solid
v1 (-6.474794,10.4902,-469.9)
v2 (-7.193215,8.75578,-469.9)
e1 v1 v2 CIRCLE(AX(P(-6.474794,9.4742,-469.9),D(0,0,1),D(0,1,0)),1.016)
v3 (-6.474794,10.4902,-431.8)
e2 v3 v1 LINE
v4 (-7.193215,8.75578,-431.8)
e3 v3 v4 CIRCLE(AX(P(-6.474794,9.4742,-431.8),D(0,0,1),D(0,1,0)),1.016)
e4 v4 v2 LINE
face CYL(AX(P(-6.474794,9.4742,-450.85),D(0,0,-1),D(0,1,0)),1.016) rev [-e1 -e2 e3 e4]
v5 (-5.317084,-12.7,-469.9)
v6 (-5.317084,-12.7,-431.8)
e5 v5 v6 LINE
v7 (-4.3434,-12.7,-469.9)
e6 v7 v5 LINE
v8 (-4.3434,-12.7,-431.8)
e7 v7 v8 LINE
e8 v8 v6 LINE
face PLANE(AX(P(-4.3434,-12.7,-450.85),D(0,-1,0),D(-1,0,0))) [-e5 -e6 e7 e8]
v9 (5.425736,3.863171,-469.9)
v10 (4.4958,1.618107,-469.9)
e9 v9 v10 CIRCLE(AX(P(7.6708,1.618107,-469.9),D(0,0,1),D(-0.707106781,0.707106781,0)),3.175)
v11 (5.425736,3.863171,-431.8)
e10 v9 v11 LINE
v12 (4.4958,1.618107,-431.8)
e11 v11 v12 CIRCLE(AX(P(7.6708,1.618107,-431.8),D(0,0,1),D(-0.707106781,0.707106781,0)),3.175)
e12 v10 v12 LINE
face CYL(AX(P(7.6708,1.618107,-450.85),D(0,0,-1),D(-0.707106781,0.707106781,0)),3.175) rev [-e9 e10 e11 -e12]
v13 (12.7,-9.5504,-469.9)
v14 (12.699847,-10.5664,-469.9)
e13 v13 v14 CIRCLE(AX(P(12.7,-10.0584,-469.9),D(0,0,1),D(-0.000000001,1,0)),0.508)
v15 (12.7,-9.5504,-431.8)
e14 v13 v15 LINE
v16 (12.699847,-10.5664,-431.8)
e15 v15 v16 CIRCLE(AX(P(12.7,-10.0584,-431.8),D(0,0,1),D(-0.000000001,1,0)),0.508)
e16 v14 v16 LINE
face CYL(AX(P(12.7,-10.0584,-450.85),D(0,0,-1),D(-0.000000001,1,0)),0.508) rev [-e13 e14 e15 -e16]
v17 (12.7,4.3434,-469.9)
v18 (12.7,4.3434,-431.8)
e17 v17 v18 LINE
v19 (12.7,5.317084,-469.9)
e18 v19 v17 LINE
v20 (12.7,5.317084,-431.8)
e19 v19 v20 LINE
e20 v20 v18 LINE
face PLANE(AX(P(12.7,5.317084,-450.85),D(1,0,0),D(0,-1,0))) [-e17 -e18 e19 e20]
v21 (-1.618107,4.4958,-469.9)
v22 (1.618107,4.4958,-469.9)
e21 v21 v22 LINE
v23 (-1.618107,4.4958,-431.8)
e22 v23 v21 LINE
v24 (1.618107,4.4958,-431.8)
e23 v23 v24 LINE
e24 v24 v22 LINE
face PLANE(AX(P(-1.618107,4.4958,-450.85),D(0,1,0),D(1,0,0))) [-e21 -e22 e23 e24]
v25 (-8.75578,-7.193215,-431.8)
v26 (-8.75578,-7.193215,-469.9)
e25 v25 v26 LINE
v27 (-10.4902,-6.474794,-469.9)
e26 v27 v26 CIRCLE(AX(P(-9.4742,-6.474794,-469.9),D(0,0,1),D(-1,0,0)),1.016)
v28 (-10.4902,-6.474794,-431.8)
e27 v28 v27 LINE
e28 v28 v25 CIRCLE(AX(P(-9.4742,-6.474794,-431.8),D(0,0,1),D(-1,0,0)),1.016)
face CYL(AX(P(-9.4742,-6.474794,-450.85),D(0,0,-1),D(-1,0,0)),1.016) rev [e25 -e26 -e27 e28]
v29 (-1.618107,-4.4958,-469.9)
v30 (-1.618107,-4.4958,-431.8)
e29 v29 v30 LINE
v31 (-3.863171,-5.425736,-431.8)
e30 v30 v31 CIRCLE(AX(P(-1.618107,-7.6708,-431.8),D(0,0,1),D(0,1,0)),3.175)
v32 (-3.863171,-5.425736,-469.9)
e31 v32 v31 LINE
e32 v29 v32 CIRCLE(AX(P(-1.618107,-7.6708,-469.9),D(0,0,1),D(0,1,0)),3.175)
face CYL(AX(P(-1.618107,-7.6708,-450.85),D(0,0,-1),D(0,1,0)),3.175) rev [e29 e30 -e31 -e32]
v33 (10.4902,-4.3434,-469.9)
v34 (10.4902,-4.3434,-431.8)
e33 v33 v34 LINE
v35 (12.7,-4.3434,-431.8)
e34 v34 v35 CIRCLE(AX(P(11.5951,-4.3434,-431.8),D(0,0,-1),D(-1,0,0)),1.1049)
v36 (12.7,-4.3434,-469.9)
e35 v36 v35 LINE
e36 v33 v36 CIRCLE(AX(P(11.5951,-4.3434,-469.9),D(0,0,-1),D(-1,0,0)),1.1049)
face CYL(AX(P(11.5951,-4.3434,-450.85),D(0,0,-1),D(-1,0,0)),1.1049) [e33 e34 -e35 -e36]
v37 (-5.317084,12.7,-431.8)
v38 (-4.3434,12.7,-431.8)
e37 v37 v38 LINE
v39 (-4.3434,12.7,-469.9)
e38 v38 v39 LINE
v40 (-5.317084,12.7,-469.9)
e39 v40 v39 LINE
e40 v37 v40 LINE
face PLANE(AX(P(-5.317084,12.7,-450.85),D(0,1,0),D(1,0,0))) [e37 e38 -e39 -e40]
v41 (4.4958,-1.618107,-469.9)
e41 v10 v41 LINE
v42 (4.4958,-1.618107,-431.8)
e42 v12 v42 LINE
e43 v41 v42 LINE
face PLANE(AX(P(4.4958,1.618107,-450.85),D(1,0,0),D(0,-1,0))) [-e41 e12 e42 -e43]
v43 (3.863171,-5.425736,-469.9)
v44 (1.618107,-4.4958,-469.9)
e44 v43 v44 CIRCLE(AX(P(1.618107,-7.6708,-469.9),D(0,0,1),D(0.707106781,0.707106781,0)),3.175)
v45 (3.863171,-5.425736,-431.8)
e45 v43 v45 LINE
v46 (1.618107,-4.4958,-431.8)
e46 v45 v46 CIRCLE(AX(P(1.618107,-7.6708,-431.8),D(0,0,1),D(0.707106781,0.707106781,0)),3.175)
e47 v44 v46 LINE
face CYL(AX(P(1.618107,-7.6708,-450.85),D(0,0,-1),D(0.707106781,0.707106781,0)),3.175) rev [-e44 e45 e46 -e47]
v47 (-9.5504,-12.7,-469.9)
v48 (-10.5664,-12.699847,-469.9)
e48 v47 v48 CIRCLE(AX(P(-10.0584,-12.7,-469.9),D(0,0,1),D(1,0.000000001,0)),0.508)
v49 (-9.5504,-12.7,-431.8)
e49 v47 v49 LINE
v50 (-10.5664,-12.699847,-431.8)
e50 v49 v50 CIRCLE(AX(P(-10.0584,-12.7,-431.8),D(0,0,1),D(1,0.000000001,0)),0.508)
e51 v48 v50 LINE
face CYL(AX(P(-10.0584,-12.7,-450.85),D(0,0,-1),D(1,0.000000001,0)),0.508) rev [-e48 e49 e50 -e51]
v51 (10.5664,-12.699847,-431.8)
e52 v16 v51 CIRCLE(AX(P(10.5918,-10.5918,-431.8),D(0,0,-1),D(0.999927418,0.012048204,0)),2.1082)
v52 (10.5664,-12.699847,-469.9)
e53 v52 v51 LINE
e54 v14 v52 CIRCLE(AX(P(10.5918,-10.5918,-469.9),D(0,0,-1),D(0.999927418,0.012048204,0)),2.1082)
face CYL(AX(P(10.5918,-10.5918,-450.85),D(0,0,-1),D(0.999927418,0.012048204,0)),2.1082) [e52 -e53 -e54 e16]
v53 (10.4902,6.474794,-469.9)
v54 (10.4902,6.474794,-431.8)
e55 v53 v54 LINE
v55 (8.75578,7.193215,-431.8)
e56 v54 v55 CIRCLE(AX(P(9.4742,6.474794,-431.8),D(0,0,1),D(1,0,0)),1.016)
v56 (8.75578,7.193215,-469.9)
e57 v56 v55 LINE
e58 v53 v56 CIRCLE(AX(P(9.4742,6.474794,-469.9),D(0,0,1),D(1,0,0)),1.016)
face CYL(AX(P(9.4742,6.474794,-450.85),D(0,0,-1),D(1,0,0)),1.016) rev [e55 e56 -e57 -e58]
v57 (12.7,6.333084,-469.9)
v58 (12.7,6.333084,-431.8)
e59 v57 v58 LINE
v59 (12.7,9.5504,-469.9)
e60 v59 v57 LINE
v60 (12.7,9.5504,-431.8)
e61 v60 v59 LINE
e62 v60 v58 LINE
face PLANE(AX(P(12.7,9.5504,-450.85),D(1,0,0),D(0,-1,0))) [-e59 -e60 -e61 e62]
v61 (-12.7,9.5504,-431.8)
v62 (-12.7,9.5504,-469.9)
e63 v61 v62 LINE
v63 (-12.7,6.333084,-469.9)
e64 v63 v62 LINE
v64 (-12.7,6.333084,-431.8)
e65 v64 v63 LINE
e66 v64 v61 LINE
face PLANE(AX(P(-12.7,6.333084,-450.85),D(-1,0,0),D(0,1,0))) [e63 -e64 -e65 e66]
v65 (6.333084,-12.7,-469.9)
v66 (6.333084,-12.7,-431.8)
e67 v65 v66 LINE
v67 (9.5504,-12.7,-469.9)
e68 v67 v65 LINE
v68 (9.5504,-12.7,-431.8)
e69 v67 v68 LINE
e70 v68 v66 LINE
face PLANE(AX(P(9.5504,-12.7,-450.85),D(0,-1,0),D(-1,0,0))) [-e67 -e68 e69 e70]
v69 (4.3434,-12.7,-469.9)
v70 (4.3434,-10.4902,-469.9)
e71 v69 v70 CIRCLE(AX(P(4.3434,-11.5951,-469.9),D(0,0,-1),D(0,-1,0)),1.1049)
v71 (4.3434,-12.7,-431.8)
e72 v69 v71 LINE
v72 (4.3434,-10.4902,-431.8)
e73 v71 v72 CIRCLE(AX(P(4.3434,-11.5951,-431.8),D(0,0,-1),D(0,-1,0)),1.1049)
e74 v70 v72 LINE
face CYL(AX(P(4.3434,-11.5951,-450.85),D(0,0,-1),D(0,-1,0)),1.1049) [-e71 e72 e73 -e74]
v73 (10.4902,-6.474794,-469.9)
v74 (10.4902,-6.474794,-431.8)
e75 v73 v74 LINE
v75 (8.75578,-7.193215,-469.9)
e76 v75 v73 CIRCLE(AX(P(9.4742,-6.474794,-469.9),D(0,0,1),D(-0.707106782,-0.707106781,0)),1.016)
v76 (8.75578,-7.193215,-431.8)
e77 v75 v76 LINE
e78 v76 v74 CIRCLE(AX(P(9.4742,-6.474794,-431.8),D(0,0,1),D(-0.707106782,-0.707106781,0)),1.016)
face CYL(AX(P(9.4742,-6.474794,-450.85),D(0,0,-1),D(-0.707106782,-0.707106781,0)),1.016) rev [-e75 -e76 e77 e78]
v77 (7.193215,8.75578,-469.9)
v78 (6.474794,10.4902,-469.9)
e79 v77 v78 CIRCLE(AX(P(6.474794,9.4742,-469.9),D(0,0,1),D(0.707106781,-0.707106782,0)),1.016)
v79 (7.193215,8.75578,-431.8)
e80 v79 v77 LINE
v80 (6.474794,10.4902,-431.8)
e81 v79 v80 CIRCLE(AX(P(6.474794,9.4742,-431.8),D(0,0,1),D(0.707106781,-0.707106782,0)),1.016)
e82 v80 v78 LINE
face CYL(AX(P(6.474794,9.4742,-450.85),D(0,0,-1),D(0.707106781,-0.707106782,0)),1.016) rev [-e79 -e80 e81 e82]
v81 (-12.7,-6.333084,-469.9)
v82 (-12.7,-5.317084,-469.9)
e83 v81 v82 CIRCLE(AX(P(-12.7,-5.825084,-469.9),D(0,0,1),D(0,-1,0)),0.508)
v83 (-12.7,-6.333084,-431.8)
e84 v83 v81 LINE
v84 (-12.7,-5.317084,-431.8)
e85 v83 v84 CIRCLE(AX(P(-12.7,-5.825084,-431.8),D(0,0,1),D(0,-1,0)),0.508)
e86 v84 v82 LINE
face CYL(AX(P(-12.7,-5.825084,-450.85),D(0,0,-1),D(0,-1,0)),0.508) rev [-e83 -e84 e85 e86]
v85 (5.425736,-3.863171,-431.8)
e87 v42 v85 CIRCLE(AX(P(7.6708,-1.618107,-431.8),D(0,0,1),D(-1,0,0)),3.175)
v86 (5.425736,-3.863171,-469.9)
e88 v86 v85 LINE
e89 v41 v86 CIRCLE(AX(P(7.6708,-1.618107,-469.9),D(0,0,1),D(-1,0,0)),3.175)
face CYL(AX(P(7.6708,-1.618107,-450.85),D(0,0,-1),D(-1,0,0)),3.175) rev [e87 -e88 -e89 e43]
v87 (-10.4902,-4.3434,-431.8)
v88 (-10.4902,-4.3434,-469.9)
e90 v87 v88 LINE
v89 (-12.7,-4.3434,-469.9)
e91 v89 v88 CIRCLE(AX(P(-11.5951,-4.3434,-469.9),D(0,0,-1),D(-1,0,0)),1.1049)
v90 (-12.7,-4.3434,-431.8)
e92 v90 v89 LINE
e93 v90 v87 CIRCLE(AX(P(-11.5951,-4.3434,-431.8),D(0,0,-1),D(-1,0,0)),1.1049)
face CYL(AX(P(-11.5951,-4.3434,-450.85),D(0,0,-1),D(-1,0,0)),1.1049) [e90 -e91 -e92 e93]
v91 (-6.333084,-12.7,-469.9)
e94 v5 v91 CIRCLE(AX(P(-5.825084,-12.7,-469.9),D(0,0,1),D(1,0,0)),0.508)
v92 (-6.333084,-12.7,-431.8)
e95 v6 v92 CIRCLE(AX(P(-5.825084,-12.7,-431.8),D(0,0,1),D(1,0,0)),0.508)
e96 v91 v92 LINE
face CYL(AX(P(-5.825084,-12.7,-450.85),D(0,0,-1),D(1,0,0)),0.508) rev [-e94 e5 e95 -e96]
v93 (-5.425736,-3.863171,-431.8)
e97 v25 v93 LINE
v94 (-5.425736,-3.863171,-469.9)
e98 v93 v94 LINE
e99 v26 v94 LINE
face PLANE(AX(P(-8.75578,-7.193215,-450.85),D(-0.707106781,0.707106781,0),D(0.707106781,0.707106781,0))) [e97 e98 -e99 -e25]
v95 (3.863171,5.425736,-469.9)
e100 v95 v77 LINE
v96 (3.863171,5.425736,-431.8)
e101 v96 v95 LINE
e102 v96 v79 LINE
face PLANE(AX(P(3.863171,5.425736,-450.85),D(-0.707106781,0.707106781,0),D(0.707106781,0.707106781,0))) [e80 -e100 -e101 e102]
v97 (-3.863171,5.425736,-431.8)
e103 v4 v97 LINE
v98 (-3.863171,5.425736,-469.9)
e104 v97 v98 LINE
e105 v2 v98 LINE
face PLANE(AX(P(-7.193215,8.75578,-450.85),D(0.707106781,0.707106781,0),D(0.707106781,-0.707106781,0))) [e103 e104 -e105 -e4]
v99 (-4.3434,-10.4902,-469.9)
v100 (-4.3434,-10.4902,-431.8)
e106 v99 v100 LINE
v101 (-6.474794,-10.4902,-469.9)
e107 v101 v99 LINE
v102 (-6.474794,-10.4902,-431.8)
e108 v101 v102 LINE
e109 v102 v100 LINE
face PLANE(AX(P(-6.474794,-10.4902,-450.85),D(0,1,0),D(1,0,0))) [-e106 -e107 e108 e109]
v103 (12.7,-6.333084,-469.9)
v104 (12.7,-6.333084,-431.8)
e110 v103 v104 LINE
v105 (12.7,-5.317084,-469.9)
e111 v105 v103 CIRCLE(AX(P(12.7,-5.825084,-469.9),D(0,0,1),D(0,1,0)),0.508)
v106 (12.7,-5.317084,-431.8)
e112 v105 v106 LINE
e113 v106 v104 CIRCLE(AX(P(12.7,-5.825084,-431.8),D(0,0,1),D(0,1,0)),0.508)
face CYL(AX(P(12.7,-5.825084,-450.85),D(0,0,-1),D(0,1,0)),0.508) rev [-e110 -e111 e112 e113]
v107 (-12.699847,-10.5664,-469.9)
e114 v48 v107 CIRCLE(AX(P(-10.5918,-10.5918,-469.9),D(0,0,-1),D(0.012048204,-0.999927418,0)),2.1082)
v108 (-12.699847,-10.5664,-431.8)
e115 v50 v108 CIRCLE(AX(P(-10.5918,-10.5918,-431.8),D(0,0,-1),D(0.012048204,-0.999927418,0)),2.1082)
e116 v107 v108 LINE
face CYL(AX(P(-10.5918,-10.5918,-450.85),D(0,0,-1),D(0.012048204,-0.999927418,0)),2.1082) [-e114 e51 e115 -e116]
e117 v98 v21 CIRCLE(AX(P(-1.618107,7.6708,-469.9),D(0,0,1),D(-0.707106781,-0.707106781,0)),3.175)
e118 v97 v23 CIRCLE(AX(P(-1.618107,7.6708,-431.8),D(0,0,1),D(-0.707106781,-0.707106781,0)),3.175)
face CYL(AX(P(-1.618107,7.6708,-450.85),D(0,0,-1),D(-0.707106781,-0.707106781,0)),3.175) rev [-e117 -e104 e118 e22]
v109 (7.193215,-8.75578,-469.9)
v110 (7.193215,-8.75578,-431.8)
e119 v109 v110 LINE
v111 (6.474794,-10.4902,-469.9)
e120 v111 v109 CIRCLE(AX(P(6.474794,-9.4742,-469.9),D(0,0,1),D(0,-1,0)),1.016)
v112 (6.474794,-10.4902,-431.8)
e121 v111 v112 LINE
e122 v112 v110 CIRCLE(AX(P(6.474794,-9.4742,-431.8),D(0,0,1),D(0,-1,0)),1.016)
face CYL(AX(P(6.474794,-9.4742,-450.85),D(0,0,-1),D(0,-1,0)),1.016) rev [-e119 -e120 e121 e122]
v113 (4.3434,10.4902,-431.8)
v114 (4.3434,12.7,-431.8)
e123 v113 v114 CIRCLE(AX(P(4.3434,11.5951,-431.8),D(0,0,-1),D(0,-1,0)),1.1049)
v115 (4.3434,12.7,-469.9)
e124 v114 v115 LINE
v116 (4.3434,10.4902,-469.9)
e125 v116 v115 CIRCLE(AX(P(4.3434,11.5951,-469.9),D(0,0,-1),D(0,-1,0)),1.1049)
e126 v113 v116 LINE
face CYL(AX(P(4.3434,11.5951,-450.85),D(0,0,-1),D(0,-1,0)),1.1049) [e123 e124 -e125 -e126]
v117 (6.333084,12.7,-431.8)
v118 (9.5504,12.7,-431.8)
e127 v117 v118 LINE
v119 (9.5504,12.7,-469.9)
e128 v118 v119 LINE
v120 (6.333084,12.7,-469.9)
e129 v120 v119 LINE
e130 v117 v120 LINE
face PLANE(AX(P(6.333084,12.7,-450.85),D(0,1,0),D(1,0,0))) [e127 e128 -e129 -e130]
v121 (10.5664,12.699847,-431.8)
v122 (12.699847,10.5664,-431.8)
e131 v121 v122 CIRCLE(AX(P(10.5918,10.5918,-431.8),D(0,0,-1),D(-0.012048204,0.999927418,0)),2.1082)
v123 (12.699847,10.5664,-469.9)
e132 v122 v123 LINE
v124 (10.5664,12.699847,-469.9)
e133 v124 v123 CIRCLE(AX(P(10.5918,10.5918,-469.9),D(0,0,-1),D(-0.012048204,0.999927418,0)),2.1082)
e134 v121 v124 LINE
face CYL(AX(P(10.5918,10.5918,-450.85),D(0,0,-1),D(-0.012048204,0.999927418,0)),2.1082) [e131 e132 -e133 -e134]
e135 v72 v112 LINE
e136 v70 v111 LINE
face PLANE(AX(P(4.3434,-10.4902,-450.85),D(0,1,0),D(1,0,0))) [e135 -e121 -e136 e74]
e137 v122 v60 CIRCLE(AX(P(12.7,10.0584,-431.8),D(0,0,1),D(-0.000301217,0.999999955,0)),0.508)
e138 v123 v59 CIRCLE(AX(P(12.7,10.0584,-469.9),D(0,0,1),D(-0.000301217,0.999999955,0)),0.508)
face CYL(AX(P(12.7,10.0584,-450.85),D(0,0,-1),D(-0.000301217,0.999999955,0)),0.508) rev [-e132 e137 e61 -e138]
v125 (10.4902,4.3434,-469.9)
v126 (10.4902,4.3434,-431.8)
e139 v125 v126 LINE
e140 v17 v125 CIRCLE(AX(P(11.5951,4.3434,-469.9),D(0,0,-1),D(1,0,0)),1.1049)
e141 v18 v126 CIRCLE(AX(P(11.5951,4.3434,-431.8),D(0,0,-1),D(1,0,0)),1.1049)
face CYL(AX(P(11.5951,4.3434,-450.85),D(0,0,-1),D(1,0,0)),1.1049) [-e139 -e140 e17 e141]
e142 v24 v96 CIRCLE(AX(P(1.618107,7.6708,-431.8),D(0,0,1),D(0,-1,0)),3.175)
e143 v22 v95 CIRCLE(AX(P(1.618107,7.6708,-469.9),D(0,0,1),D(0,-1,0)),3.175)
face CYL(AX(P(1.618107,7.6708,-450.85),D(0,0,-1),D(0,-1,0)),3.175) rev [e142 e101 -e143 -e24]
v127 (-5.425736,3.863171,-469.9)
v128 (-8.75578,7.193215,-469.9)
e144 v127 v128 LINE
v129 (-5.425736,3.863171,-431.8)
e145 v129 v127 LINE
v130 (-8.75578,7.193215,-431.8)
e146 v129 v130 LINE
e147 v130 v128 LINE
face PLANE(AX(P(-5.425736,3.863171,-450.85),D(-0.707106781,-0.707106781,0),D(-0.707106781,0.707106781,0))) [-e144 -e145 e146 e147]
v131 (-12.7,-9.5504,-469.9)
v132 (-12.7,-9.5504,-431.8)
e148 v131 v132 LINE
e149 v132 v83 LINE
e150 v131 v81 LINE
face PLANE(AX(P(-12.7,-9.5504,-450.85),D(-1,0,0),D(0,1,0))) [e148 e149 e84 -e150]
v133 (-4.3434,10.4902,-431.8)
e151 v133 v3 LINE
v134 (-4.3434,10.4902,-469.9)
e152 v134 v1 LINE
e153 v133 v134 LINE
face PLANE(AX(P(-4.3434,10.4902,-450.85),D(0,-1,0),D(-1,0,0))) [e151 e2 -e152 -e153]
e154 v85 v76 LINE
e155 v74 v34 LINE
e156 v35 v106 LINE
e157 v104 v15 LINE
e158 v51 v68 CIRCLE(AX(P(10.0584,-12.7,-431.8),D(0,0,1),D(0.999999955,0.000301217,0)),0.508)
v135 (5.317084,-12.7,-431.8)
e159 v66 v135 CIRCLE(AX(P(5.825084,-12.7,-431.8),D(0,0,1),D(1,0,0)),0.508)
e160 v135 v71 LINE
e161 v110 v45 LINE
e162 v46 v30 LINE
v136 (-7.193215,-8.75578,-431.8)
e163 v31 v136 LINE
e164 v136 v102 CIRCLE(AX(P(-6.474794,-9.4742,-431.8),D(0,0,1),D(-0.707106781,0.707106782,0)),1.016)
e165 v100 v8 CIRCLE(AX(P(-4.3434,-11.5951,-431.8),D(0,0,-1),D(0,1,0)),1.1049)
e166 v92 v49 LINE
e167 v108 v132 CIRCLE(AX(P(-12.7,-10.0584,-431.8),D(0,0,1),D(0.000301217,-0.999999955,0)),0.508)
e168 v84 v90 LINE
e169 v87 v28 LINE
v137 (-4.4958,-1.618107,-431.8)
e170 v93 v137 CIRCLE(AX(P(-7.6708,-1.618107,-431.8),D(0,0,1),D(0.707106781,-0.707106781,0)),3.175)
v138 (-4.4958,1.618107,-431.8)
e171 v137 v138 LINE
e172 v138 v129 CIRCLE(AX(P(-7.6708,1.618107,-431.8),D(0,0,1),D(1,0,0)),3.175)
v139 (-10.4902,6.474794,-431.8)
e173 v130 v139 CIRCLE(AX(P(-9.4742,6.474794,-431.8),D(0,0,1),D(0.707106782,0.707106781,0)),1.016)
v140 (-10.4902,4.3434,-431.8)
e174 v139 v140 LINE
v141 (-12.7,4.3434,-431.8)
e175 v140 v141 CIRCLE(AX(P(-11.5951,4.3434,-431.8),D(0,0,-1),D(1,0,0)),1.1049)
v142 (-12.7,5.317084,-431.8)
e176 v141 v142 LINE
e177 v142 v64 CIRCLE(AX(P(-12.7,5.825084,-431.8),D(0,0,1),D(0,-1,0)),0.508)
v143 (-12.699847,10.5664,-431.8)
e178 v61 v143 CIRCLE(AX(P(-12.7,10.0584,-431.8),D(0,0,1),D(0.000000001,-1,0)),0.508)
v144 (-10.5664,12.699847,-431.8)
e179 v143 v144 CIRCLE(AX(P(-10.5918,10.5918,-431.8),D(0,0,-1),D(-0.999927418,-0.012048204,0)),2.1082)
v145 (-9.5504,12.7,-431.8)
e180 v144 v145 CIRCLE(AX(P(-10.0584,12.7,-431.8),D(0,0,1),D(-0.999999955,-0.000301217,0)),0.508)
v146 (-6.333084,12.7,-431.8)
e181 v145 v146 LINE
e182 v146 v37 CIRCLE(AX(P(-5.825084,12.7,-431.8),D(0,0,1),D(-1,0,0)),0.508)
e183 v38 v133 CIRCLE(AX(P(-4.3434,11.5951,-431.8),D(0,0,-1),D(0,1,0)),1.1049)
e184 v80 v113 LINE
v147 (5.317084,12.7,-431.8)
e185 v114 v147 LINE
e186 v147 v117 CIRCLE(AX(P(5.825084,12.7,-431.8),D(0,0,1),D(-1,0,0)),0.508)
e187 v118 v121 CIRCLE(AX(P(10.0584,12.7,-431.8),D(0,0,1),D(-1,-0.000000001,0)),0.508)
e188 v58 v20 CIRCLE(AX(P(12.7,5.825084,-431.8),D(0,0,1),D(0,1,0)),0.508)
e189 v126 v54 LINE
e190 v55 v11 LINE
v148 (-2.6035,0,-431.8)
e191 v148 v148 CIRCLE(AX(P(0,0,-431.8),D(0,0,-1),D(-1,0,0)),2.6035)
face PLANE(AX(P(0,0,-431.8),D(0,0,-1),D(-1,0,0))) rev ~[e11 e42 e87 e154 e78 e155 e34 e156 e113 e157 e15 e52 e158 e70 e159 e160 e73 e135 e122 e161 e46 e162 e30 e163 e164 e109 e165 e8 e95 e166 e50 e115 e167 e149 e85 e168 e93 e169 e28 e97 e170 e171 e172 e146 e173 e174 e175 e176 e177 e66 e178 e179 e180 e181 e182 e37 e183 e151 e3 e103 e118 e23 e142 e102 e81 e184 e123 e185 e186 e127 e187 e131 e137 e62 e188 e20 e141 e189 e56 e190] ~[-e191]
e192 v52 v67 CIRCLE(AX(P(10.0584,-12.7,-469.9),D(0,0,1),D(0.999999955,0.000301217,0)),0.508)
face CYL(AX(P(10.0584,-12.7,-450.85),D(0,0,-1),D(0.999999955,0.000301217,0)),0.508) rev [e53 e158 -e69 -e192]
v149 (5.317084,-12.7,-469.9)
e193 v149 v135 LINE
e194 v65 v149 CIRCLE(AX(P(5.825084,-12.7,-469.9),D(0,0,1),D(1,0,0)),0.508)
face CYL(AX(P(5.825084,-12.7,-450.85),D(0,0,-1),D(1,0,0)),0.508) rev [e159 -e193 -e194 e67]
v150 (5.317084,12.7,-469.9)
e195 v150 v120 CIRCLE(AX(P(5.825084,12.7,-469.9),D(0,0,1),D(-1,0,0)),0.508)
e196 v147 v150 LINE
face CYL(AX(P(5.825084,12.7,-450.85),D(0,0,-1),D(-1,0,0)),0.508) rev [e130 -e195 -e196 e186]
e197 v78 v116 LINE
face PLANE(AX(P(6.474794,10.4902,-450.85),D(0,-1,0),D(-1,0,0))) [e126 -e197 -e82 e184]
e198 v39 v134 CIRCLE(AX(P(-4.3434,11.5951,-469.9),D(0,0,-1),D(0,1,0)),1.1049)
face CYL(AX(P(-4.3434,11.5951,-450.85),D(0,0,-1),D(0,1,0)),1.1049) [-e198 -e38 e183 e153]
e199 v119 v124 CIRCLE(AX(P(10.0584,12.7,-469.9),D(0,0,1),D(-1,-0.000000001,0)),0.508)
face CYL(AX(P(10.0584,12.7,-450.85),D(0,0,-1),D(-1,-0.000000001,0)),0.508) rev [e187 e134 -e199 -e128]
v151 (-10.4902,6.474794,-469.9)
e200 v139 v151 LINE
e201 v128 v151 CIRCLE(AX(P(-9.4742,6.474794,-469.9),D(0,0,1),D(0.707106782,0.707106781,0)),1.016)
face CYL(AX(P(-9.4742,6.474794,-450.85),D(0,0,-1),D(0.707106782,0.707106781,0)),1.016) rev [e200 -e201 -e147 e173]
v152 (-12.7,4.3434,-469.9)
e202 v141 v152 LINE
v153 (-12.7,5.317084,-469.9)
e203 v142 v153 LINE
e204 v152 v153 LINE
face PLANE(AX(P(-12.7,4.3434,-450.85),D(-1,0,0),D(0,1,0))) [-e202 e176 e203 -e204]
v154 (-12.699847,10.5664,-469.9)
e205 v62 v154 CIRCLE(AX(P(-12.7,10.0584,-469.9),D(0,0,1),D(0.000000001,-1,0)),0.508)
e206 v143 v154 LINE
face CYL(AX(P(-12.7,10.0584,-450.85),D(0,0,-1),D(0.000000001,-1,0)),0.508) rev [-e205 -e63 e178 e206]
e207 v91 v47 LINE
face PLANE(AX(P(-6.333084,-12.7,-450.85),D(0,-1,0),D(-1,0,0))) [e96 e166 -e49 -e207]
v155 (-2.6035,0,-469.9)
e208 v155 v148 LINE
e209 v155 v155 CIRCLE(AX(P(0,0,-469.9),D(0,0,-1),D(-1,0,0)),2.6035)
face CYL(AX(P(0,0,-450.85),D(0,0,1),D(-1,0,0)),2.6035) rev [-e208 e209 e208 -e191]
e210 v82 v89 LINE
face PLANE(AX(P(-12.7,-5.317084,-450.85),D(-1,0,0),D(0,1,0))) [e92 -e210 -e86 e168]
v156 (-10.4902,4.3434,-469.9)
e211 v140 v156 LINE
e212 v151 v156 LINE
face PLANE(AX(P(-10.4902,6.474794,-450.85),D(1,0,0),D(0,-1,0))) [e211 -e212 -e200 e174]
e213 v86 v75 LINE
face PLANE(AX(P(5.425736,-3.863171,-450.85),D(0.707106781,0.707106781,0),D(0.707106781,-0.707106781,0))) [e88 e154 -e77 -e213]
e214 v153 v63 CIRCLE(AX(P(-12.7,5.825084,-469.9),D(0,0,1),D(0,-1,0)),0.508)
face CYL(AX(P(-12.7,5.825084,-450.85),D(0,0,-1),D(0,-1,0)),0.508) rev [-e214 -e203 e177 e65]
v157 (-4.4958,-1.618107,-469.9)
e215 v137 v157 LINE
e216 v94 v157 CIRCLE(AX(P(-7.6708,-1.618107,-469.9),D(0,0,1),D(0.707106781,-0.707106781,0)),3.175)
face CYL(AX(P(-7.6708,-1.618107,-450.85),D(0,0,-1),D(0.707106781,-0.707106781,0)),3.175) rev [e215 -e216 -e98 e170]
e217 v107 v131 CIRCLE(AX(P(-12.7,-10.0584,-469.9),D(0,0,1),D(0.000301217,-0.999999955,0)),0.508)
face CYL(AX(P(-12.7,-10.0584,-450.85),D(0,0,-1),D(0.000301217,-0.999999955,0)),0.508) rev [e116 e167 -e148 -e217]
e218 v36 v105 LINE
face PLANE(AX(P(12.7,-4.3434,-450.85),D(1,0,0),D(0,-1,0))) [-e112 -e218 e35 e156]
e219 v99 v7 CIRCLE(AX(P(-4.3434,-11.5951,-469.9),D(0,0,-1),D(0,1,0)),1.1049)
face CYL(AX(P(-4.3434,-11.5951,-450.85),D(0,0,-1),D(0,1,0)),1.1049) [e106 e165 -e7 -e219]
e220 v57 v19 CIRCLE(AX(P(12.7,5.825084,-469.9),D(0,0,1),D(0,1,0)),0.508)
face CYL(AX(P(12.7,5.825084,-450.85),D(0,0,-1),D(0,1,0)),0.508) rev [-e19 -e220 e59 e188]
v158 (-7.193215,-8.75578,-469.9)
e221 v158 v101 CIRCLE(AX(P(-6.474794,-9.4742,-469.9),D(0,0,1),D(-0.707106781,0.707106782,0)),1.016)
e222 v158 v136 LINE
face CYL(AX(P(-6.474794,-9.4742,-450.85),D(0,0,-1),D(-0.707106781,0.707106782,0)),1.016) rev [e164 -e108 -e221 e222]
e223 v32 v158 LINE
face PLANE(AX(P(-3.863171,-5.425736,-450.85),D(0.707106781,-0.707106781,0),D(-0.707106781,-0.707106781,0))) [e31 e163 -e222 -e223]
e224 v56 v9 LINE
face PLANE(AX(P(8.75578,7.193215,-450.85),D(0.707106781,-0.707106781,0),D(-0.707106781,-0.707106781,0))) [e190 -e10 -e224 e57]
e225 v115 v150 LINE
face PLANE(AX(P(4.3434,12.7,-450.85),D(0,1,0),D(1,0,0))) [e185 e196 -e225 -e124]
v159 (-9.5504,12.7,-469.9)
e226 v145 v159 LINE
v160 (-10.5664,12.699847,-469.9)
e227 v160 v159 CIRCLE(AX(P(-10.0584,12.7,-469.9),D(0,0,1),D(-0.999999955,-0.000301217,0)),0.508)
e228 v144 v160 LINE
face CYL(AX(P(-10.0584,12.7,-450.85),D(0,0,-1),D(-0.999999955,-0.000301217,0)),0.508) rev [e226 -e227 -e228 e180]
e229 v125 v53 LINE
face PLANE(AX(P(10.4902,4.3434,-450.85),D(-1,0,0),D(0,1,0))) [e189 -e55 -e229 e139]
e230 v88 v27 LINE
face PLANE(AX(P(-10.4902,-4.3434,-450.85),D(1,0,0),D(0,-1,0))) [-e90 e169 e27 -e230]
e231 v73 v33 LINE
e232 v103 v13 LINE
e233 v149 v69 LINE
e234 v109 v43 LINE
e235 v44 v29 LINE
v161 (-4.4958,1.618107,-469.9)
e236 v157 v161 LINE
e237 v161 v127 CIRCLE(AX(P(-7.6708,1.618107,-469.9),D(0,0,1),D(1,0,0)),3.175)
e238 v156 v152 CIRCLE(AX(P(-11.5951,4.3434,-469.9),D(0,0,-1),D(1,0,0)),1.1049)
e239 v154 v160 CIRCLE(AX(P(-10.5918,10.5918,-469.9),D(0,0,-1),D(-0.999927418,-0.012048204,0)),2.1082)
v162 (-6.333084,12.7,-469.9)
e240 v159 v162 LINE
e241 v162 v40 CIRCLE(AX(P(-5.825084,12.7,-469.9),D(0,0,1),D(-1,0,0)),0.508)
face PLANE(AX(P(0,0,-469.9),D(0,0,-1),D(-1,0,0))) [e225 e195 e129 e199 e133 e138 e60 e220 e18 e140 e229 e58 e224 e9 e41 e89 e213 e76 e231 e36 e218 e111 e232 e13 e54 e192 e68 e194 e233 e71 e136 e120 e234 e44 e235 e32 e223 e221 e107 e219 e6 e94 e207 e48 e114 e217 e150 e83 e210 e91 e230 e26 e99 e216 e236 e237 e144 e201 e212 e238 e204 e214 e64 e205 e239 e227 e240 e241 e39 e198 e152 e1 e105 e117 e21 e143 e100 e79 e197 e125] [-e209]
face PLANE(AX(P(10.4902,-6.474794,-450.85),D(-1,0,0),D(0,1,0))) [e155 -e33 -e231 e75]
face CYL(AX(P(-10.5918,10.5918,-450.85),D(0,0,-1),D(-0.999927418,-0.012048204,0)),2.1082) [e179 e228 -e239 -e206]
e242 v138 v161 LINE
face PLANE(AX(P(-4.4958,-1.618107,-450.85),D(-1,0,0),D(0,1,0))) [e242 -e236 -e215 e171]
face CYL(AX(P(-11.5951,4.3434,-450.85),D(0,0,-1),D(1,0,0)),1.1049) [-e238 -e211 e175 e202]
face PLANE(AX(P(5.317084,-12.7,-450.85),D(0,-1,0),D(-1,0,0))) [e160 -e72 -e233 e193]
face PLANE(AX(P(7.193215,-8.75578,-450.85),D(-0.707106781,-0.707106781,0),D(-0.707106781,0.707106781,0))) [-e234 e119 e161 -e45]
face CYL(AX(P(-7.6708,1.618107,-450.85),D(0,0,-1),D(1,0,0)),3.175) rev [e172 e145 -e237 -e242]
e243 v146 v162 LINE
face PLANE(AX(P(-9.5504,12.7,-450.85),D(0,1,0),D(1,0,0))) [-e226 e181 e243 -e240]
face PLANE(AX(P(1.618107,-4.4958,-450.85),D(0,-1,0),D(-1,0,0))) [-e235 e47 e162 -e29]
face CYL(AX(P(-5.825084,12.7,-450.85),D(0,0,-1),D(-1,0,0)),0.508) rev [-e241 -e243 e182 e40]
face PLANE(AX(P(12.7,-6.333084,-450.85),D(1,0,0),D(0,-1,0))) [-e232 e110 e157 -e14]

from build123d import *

# Parameters (mm, degrees)
SKETCH1_R           = 2.6035
BOSS_EXTRUDE1_DEPTH = 19.05


with BuildPart() as part:
    # Sketch1 → Boss-Extrude1 (new body, symmetric)
    with BuildSketch(Plane(origin=(0, 0, -450.85), x_dir=(-1, 0, 0), z_dir=(0, 0, -1))):
        with BuildLine():
            Line((12.7, -9.5504), (12.7, -6.3330836))
            ThreePointArc((12.7, -6.3330836), (12.192, -5.8250836), (12.7, -5.3170836))
            Line((12.7, -5.3170836), (12.7, -4.3434))
            ThreePointArc((12.7, -4.3434), (11.5951, -3.2385), (10.4902, -4.3434))
            Line((10.4902, -4.3434), (10.4902, -6.474794456))
            ThreePointArc((10.4902, -6.474794456), (9.863006367, -7.413456061), (8.75577951, -7.193214945))
            Line((8.75577951, -7.193214945), (5.42573597, -3.863171405))
            ThreePointArc((5.42573597, -3.863171405), (4.737482484, -2.833127272), (4.4958, -1.618107374))
            Line((4.4958, -1.618107374), (4.4958, 1.618107374))
            ThreePointArc((4.4958, 1.618107374), (4.737482484, 2.833127272), (5.42573597, 3.863171405))
            Line((5.42573597, 3.863171405), (8.75577951, 7.193214945))
            ThreePointArc((8.75577951, 7.193214945), (9.863006367, 7.413456061), (10.4902, 6.474794456))
            Line((10.4902, 6.474794456), (10.4902, 4.343399971))
            ThreePointArc((10.4902, 4.343399971), (11.5951, 3.238499971), (12.7, 4.343399971))
            Line((12.7, 4.343399971), (12.7, 5.3170836))
            ThreePointArc((12.7, 5.3170836), (12.192, 5.8250836), (12.7, 6.3330836))
            Line((12.7, 6.3330836), (12.7, 9.5504))
            ThreePointArc((12.7, 9.5504), (12.192000006, 10.058323491), (12.699846982, 10.566399977))
            ThreePointArc((12.699846982, 10.566399977), (12.082522516, 12.082522516), (10.566399977, 12.699846982))
            ThreePointArc((10.566399977, 12.699846982), (10.058323491, 12.192000006), (9.5504, 12.7))
            Line((9.5504, 12.7), (6.3330836, 12.7))
            ThreePointArc((6.3330836, 12.7), (5.8250836, 12.192), (5.3170836, 12.7))
            Line((5.3170836, 12.7), (4.3434, 12.7))
            ThreePointArc((4.3434, 12.7), (3.2385, 11.5951), (4.3434, 10.4902))
            Line((4.3434, 10.4902), (6.474794456, 10.4902))
            ThreePointArc((6.474794456, 10.4902), (7.413456061, 9.863006367), (7.193214945, 8.75577951))
            Line((7.193214945, 8.75577951), (3.863171405, 5.42573597))
            ThreePointArc((3.863171405, 5.42573597), (2.833127272, 4.737482484), (1.618107374, 4.4958))
            Line((1.618107374, 4.4958), (-1.618107374, 4.4958))
            ThreePointArc((-1.618107374, 4.4958), (-2.833127272, 4.737482484), (-3.863171405, 5.42573597))
            Line((-3.863171405, 5.42573597), (-7.193214945, 8.75577951))
            ThreePointArc((-7.193214945, 8.75577951), (-7.413456061, 9.863006367), (-6.474794456, 10.4902))
            Line((-6.474794456, 10.4902), (-4.343399971, 10.4902))
            ThreePointArc((-4.343399971, 10.4902), (-3.238499971, 11.5951), (-4.343399971, 12.7))
            Line((-4.343399971, 12.7), (-5.3170836, 12.7))
            ThreePointArc((-5.3170836, 12.7), (-5.8250836, 12.192), (-6.3330836, 12.7))
            Line((-6.3330836, 12.7), (-9.5504, 12.7))
            ThreePointArc((-9.5504, 12.7), (-10.058323491, 12.192000006), (-10.566399977, 12.699846982))
            ThreePointArc((-10.566399977, 12.699846982), (-12.082522516, 12.082522516), (-12.699846982, 10.566399977))
            ThreePointArc((-12.699846982, 10.566399977), (-12.192000006, 10.058323491), (-12.7, 9.5504))
            Line((-12.7, 9.5504), (-12.7, 6.3330836))
            ThreePointArc((-12.7, 6.3330836), (-12.192, 5.8250836), (-12.7, 5.3170836))
            Line((-12.7, 5.3170836), (-12.7, 4.3434))
            ThreePointArc((-12.7, 4.3434), (-11.5951, 3.2385), (-10.4902, 4.3434))
            Line((-10.4902, 4.3434), (-10.4902, 6.474794456))
            ThreePointArc((-10.4902, 6.474794456), (-9.863006367, 7.413456061), (-8.75577951, 7.193214945))
            Line((-8.75577951, 7.193214945), (-5.42573597, 3.863171405))
            ThreePointArc((-5.42573597, 3.863171405), (-4.737482484, 2.833127272), (-4.4958, 1.618107374))
            Line((-4.4958, 1.618107374), (-4.4958, -1.618107374))
            ThreePointArc((-4.4958, -1.618107374), (-4.737482484, -2.833127272), (-5.42573597, -3.863171405))
            Line((-5.42573597, -3.863171405), (-8.75577951, -7.193214945))
            ThreePointArc((-8.75577951, -7.193214945), (-9.863006367, -7.413456061), (-10.4902, -6.474794456))
            Line((-10.4902, -6.474794456), (-10.4902, -4.343399971))
            ThreePointArc((-10.4902, -4.343399971), (-11.5951, -3.238499971), (-12.7, -4.343399971))
            Line((-12.7, -4.343399971), (-12.7, -5.3170836))
            ThreePointArc((-12.7, -5.3170836), (-12.192, -5.8250836), (-12.7, -6.3330836))
            Line((-12.7, -6.3330836), (-12.7, -9.5504))
            ThreePointArc((-12.7, -9.5504), (-12.192000006, -10.058323491), (-12.699846982, -10.566399977))
            ThreePointArc((-12.699846982, -10.566399977), (-12.082522516, -12.082522516), (-10.566399977, -12.699846982))
            ThreePointArc((-10.566399977, -12.699846982), (-10.058323491, -12.192000006), (-9.5504, -12.7))
            Line((-9.5504, -12.7), (-6.3330836, -12.7))
            ThreePointArc((-6.3330836, -12.7), (-5.8250836, -12.192), (-5.3170836, -12.7))
            Line((-5.3170836, -12.7), (-4.3434, -12.7))
            ThreePointArc((-4.3434, -12.7), (-3.2385, -11.5951), (-4.3434, -10.4902))
            Line((-4.3434, -10.4902), (-6.474794456, -10.4902))
            ThreePointArc((-6.474794456, -10.4902), (-7.413456061, -9.863006367), (-7.193214945, -8.75577951))
            Line((-7.193214945, -8.75577951), (-3.863171405, -5.42573597))
            ThreePointArc((-3.863171405, -5.42573597), (-2.833127272, -4.737482484), (-1.618107374, -4.4958))
            Line((-1.618107374, -4.4958), (1.618107374, -4.4958))
            ThreePointArc((1.618107374, -4.4958), (2.833127272, -4.737482484), (3.863171405, -5.42573597))
            Line((3.863171405, -5.42573597), (7.193214945, -8.75577951))
            ThreePointArc((7.193214945, -8.75577951), (7.413456061, -9.863006367), (6.474794456, -10.4902))
            Line((6.474794456, -10.4902), (4.343399971, -10.4902))
            ThreePointArc((4.343399971, -10.4902), (3.238499971, -11.5951), (4.343399971, -12.7))
            Line((4.343399971, -12.7), (5.3170836, -12.7))
            ThreePointArc((5.3170836, -12.7), (5.8250836, -12.192), (6.3330836, -12.7))
            Line((6.3330836, -12.7), (9.5504, -12.7))
            ThreePointArc((9.5504, -12.7), (10.058323491, -12.192000006), (10.566399977, -12.699846982))
            ThreePointArc((10.566399977, -12.699846982), (12.082522516, -12.082522516), (12.699846982, -10.566399977))
            ThreePointArc((12.699846982, -10.566399977), (12.192000006, -10.058323491), (12.7, -9.5504))
        make_face()
        Circle(SKETCH1_R, mode=Mode.SUBTRACT)
    extrude(amount=BOSS_EXTRUDE1_DEPTH, both=True)


solid = part.part
